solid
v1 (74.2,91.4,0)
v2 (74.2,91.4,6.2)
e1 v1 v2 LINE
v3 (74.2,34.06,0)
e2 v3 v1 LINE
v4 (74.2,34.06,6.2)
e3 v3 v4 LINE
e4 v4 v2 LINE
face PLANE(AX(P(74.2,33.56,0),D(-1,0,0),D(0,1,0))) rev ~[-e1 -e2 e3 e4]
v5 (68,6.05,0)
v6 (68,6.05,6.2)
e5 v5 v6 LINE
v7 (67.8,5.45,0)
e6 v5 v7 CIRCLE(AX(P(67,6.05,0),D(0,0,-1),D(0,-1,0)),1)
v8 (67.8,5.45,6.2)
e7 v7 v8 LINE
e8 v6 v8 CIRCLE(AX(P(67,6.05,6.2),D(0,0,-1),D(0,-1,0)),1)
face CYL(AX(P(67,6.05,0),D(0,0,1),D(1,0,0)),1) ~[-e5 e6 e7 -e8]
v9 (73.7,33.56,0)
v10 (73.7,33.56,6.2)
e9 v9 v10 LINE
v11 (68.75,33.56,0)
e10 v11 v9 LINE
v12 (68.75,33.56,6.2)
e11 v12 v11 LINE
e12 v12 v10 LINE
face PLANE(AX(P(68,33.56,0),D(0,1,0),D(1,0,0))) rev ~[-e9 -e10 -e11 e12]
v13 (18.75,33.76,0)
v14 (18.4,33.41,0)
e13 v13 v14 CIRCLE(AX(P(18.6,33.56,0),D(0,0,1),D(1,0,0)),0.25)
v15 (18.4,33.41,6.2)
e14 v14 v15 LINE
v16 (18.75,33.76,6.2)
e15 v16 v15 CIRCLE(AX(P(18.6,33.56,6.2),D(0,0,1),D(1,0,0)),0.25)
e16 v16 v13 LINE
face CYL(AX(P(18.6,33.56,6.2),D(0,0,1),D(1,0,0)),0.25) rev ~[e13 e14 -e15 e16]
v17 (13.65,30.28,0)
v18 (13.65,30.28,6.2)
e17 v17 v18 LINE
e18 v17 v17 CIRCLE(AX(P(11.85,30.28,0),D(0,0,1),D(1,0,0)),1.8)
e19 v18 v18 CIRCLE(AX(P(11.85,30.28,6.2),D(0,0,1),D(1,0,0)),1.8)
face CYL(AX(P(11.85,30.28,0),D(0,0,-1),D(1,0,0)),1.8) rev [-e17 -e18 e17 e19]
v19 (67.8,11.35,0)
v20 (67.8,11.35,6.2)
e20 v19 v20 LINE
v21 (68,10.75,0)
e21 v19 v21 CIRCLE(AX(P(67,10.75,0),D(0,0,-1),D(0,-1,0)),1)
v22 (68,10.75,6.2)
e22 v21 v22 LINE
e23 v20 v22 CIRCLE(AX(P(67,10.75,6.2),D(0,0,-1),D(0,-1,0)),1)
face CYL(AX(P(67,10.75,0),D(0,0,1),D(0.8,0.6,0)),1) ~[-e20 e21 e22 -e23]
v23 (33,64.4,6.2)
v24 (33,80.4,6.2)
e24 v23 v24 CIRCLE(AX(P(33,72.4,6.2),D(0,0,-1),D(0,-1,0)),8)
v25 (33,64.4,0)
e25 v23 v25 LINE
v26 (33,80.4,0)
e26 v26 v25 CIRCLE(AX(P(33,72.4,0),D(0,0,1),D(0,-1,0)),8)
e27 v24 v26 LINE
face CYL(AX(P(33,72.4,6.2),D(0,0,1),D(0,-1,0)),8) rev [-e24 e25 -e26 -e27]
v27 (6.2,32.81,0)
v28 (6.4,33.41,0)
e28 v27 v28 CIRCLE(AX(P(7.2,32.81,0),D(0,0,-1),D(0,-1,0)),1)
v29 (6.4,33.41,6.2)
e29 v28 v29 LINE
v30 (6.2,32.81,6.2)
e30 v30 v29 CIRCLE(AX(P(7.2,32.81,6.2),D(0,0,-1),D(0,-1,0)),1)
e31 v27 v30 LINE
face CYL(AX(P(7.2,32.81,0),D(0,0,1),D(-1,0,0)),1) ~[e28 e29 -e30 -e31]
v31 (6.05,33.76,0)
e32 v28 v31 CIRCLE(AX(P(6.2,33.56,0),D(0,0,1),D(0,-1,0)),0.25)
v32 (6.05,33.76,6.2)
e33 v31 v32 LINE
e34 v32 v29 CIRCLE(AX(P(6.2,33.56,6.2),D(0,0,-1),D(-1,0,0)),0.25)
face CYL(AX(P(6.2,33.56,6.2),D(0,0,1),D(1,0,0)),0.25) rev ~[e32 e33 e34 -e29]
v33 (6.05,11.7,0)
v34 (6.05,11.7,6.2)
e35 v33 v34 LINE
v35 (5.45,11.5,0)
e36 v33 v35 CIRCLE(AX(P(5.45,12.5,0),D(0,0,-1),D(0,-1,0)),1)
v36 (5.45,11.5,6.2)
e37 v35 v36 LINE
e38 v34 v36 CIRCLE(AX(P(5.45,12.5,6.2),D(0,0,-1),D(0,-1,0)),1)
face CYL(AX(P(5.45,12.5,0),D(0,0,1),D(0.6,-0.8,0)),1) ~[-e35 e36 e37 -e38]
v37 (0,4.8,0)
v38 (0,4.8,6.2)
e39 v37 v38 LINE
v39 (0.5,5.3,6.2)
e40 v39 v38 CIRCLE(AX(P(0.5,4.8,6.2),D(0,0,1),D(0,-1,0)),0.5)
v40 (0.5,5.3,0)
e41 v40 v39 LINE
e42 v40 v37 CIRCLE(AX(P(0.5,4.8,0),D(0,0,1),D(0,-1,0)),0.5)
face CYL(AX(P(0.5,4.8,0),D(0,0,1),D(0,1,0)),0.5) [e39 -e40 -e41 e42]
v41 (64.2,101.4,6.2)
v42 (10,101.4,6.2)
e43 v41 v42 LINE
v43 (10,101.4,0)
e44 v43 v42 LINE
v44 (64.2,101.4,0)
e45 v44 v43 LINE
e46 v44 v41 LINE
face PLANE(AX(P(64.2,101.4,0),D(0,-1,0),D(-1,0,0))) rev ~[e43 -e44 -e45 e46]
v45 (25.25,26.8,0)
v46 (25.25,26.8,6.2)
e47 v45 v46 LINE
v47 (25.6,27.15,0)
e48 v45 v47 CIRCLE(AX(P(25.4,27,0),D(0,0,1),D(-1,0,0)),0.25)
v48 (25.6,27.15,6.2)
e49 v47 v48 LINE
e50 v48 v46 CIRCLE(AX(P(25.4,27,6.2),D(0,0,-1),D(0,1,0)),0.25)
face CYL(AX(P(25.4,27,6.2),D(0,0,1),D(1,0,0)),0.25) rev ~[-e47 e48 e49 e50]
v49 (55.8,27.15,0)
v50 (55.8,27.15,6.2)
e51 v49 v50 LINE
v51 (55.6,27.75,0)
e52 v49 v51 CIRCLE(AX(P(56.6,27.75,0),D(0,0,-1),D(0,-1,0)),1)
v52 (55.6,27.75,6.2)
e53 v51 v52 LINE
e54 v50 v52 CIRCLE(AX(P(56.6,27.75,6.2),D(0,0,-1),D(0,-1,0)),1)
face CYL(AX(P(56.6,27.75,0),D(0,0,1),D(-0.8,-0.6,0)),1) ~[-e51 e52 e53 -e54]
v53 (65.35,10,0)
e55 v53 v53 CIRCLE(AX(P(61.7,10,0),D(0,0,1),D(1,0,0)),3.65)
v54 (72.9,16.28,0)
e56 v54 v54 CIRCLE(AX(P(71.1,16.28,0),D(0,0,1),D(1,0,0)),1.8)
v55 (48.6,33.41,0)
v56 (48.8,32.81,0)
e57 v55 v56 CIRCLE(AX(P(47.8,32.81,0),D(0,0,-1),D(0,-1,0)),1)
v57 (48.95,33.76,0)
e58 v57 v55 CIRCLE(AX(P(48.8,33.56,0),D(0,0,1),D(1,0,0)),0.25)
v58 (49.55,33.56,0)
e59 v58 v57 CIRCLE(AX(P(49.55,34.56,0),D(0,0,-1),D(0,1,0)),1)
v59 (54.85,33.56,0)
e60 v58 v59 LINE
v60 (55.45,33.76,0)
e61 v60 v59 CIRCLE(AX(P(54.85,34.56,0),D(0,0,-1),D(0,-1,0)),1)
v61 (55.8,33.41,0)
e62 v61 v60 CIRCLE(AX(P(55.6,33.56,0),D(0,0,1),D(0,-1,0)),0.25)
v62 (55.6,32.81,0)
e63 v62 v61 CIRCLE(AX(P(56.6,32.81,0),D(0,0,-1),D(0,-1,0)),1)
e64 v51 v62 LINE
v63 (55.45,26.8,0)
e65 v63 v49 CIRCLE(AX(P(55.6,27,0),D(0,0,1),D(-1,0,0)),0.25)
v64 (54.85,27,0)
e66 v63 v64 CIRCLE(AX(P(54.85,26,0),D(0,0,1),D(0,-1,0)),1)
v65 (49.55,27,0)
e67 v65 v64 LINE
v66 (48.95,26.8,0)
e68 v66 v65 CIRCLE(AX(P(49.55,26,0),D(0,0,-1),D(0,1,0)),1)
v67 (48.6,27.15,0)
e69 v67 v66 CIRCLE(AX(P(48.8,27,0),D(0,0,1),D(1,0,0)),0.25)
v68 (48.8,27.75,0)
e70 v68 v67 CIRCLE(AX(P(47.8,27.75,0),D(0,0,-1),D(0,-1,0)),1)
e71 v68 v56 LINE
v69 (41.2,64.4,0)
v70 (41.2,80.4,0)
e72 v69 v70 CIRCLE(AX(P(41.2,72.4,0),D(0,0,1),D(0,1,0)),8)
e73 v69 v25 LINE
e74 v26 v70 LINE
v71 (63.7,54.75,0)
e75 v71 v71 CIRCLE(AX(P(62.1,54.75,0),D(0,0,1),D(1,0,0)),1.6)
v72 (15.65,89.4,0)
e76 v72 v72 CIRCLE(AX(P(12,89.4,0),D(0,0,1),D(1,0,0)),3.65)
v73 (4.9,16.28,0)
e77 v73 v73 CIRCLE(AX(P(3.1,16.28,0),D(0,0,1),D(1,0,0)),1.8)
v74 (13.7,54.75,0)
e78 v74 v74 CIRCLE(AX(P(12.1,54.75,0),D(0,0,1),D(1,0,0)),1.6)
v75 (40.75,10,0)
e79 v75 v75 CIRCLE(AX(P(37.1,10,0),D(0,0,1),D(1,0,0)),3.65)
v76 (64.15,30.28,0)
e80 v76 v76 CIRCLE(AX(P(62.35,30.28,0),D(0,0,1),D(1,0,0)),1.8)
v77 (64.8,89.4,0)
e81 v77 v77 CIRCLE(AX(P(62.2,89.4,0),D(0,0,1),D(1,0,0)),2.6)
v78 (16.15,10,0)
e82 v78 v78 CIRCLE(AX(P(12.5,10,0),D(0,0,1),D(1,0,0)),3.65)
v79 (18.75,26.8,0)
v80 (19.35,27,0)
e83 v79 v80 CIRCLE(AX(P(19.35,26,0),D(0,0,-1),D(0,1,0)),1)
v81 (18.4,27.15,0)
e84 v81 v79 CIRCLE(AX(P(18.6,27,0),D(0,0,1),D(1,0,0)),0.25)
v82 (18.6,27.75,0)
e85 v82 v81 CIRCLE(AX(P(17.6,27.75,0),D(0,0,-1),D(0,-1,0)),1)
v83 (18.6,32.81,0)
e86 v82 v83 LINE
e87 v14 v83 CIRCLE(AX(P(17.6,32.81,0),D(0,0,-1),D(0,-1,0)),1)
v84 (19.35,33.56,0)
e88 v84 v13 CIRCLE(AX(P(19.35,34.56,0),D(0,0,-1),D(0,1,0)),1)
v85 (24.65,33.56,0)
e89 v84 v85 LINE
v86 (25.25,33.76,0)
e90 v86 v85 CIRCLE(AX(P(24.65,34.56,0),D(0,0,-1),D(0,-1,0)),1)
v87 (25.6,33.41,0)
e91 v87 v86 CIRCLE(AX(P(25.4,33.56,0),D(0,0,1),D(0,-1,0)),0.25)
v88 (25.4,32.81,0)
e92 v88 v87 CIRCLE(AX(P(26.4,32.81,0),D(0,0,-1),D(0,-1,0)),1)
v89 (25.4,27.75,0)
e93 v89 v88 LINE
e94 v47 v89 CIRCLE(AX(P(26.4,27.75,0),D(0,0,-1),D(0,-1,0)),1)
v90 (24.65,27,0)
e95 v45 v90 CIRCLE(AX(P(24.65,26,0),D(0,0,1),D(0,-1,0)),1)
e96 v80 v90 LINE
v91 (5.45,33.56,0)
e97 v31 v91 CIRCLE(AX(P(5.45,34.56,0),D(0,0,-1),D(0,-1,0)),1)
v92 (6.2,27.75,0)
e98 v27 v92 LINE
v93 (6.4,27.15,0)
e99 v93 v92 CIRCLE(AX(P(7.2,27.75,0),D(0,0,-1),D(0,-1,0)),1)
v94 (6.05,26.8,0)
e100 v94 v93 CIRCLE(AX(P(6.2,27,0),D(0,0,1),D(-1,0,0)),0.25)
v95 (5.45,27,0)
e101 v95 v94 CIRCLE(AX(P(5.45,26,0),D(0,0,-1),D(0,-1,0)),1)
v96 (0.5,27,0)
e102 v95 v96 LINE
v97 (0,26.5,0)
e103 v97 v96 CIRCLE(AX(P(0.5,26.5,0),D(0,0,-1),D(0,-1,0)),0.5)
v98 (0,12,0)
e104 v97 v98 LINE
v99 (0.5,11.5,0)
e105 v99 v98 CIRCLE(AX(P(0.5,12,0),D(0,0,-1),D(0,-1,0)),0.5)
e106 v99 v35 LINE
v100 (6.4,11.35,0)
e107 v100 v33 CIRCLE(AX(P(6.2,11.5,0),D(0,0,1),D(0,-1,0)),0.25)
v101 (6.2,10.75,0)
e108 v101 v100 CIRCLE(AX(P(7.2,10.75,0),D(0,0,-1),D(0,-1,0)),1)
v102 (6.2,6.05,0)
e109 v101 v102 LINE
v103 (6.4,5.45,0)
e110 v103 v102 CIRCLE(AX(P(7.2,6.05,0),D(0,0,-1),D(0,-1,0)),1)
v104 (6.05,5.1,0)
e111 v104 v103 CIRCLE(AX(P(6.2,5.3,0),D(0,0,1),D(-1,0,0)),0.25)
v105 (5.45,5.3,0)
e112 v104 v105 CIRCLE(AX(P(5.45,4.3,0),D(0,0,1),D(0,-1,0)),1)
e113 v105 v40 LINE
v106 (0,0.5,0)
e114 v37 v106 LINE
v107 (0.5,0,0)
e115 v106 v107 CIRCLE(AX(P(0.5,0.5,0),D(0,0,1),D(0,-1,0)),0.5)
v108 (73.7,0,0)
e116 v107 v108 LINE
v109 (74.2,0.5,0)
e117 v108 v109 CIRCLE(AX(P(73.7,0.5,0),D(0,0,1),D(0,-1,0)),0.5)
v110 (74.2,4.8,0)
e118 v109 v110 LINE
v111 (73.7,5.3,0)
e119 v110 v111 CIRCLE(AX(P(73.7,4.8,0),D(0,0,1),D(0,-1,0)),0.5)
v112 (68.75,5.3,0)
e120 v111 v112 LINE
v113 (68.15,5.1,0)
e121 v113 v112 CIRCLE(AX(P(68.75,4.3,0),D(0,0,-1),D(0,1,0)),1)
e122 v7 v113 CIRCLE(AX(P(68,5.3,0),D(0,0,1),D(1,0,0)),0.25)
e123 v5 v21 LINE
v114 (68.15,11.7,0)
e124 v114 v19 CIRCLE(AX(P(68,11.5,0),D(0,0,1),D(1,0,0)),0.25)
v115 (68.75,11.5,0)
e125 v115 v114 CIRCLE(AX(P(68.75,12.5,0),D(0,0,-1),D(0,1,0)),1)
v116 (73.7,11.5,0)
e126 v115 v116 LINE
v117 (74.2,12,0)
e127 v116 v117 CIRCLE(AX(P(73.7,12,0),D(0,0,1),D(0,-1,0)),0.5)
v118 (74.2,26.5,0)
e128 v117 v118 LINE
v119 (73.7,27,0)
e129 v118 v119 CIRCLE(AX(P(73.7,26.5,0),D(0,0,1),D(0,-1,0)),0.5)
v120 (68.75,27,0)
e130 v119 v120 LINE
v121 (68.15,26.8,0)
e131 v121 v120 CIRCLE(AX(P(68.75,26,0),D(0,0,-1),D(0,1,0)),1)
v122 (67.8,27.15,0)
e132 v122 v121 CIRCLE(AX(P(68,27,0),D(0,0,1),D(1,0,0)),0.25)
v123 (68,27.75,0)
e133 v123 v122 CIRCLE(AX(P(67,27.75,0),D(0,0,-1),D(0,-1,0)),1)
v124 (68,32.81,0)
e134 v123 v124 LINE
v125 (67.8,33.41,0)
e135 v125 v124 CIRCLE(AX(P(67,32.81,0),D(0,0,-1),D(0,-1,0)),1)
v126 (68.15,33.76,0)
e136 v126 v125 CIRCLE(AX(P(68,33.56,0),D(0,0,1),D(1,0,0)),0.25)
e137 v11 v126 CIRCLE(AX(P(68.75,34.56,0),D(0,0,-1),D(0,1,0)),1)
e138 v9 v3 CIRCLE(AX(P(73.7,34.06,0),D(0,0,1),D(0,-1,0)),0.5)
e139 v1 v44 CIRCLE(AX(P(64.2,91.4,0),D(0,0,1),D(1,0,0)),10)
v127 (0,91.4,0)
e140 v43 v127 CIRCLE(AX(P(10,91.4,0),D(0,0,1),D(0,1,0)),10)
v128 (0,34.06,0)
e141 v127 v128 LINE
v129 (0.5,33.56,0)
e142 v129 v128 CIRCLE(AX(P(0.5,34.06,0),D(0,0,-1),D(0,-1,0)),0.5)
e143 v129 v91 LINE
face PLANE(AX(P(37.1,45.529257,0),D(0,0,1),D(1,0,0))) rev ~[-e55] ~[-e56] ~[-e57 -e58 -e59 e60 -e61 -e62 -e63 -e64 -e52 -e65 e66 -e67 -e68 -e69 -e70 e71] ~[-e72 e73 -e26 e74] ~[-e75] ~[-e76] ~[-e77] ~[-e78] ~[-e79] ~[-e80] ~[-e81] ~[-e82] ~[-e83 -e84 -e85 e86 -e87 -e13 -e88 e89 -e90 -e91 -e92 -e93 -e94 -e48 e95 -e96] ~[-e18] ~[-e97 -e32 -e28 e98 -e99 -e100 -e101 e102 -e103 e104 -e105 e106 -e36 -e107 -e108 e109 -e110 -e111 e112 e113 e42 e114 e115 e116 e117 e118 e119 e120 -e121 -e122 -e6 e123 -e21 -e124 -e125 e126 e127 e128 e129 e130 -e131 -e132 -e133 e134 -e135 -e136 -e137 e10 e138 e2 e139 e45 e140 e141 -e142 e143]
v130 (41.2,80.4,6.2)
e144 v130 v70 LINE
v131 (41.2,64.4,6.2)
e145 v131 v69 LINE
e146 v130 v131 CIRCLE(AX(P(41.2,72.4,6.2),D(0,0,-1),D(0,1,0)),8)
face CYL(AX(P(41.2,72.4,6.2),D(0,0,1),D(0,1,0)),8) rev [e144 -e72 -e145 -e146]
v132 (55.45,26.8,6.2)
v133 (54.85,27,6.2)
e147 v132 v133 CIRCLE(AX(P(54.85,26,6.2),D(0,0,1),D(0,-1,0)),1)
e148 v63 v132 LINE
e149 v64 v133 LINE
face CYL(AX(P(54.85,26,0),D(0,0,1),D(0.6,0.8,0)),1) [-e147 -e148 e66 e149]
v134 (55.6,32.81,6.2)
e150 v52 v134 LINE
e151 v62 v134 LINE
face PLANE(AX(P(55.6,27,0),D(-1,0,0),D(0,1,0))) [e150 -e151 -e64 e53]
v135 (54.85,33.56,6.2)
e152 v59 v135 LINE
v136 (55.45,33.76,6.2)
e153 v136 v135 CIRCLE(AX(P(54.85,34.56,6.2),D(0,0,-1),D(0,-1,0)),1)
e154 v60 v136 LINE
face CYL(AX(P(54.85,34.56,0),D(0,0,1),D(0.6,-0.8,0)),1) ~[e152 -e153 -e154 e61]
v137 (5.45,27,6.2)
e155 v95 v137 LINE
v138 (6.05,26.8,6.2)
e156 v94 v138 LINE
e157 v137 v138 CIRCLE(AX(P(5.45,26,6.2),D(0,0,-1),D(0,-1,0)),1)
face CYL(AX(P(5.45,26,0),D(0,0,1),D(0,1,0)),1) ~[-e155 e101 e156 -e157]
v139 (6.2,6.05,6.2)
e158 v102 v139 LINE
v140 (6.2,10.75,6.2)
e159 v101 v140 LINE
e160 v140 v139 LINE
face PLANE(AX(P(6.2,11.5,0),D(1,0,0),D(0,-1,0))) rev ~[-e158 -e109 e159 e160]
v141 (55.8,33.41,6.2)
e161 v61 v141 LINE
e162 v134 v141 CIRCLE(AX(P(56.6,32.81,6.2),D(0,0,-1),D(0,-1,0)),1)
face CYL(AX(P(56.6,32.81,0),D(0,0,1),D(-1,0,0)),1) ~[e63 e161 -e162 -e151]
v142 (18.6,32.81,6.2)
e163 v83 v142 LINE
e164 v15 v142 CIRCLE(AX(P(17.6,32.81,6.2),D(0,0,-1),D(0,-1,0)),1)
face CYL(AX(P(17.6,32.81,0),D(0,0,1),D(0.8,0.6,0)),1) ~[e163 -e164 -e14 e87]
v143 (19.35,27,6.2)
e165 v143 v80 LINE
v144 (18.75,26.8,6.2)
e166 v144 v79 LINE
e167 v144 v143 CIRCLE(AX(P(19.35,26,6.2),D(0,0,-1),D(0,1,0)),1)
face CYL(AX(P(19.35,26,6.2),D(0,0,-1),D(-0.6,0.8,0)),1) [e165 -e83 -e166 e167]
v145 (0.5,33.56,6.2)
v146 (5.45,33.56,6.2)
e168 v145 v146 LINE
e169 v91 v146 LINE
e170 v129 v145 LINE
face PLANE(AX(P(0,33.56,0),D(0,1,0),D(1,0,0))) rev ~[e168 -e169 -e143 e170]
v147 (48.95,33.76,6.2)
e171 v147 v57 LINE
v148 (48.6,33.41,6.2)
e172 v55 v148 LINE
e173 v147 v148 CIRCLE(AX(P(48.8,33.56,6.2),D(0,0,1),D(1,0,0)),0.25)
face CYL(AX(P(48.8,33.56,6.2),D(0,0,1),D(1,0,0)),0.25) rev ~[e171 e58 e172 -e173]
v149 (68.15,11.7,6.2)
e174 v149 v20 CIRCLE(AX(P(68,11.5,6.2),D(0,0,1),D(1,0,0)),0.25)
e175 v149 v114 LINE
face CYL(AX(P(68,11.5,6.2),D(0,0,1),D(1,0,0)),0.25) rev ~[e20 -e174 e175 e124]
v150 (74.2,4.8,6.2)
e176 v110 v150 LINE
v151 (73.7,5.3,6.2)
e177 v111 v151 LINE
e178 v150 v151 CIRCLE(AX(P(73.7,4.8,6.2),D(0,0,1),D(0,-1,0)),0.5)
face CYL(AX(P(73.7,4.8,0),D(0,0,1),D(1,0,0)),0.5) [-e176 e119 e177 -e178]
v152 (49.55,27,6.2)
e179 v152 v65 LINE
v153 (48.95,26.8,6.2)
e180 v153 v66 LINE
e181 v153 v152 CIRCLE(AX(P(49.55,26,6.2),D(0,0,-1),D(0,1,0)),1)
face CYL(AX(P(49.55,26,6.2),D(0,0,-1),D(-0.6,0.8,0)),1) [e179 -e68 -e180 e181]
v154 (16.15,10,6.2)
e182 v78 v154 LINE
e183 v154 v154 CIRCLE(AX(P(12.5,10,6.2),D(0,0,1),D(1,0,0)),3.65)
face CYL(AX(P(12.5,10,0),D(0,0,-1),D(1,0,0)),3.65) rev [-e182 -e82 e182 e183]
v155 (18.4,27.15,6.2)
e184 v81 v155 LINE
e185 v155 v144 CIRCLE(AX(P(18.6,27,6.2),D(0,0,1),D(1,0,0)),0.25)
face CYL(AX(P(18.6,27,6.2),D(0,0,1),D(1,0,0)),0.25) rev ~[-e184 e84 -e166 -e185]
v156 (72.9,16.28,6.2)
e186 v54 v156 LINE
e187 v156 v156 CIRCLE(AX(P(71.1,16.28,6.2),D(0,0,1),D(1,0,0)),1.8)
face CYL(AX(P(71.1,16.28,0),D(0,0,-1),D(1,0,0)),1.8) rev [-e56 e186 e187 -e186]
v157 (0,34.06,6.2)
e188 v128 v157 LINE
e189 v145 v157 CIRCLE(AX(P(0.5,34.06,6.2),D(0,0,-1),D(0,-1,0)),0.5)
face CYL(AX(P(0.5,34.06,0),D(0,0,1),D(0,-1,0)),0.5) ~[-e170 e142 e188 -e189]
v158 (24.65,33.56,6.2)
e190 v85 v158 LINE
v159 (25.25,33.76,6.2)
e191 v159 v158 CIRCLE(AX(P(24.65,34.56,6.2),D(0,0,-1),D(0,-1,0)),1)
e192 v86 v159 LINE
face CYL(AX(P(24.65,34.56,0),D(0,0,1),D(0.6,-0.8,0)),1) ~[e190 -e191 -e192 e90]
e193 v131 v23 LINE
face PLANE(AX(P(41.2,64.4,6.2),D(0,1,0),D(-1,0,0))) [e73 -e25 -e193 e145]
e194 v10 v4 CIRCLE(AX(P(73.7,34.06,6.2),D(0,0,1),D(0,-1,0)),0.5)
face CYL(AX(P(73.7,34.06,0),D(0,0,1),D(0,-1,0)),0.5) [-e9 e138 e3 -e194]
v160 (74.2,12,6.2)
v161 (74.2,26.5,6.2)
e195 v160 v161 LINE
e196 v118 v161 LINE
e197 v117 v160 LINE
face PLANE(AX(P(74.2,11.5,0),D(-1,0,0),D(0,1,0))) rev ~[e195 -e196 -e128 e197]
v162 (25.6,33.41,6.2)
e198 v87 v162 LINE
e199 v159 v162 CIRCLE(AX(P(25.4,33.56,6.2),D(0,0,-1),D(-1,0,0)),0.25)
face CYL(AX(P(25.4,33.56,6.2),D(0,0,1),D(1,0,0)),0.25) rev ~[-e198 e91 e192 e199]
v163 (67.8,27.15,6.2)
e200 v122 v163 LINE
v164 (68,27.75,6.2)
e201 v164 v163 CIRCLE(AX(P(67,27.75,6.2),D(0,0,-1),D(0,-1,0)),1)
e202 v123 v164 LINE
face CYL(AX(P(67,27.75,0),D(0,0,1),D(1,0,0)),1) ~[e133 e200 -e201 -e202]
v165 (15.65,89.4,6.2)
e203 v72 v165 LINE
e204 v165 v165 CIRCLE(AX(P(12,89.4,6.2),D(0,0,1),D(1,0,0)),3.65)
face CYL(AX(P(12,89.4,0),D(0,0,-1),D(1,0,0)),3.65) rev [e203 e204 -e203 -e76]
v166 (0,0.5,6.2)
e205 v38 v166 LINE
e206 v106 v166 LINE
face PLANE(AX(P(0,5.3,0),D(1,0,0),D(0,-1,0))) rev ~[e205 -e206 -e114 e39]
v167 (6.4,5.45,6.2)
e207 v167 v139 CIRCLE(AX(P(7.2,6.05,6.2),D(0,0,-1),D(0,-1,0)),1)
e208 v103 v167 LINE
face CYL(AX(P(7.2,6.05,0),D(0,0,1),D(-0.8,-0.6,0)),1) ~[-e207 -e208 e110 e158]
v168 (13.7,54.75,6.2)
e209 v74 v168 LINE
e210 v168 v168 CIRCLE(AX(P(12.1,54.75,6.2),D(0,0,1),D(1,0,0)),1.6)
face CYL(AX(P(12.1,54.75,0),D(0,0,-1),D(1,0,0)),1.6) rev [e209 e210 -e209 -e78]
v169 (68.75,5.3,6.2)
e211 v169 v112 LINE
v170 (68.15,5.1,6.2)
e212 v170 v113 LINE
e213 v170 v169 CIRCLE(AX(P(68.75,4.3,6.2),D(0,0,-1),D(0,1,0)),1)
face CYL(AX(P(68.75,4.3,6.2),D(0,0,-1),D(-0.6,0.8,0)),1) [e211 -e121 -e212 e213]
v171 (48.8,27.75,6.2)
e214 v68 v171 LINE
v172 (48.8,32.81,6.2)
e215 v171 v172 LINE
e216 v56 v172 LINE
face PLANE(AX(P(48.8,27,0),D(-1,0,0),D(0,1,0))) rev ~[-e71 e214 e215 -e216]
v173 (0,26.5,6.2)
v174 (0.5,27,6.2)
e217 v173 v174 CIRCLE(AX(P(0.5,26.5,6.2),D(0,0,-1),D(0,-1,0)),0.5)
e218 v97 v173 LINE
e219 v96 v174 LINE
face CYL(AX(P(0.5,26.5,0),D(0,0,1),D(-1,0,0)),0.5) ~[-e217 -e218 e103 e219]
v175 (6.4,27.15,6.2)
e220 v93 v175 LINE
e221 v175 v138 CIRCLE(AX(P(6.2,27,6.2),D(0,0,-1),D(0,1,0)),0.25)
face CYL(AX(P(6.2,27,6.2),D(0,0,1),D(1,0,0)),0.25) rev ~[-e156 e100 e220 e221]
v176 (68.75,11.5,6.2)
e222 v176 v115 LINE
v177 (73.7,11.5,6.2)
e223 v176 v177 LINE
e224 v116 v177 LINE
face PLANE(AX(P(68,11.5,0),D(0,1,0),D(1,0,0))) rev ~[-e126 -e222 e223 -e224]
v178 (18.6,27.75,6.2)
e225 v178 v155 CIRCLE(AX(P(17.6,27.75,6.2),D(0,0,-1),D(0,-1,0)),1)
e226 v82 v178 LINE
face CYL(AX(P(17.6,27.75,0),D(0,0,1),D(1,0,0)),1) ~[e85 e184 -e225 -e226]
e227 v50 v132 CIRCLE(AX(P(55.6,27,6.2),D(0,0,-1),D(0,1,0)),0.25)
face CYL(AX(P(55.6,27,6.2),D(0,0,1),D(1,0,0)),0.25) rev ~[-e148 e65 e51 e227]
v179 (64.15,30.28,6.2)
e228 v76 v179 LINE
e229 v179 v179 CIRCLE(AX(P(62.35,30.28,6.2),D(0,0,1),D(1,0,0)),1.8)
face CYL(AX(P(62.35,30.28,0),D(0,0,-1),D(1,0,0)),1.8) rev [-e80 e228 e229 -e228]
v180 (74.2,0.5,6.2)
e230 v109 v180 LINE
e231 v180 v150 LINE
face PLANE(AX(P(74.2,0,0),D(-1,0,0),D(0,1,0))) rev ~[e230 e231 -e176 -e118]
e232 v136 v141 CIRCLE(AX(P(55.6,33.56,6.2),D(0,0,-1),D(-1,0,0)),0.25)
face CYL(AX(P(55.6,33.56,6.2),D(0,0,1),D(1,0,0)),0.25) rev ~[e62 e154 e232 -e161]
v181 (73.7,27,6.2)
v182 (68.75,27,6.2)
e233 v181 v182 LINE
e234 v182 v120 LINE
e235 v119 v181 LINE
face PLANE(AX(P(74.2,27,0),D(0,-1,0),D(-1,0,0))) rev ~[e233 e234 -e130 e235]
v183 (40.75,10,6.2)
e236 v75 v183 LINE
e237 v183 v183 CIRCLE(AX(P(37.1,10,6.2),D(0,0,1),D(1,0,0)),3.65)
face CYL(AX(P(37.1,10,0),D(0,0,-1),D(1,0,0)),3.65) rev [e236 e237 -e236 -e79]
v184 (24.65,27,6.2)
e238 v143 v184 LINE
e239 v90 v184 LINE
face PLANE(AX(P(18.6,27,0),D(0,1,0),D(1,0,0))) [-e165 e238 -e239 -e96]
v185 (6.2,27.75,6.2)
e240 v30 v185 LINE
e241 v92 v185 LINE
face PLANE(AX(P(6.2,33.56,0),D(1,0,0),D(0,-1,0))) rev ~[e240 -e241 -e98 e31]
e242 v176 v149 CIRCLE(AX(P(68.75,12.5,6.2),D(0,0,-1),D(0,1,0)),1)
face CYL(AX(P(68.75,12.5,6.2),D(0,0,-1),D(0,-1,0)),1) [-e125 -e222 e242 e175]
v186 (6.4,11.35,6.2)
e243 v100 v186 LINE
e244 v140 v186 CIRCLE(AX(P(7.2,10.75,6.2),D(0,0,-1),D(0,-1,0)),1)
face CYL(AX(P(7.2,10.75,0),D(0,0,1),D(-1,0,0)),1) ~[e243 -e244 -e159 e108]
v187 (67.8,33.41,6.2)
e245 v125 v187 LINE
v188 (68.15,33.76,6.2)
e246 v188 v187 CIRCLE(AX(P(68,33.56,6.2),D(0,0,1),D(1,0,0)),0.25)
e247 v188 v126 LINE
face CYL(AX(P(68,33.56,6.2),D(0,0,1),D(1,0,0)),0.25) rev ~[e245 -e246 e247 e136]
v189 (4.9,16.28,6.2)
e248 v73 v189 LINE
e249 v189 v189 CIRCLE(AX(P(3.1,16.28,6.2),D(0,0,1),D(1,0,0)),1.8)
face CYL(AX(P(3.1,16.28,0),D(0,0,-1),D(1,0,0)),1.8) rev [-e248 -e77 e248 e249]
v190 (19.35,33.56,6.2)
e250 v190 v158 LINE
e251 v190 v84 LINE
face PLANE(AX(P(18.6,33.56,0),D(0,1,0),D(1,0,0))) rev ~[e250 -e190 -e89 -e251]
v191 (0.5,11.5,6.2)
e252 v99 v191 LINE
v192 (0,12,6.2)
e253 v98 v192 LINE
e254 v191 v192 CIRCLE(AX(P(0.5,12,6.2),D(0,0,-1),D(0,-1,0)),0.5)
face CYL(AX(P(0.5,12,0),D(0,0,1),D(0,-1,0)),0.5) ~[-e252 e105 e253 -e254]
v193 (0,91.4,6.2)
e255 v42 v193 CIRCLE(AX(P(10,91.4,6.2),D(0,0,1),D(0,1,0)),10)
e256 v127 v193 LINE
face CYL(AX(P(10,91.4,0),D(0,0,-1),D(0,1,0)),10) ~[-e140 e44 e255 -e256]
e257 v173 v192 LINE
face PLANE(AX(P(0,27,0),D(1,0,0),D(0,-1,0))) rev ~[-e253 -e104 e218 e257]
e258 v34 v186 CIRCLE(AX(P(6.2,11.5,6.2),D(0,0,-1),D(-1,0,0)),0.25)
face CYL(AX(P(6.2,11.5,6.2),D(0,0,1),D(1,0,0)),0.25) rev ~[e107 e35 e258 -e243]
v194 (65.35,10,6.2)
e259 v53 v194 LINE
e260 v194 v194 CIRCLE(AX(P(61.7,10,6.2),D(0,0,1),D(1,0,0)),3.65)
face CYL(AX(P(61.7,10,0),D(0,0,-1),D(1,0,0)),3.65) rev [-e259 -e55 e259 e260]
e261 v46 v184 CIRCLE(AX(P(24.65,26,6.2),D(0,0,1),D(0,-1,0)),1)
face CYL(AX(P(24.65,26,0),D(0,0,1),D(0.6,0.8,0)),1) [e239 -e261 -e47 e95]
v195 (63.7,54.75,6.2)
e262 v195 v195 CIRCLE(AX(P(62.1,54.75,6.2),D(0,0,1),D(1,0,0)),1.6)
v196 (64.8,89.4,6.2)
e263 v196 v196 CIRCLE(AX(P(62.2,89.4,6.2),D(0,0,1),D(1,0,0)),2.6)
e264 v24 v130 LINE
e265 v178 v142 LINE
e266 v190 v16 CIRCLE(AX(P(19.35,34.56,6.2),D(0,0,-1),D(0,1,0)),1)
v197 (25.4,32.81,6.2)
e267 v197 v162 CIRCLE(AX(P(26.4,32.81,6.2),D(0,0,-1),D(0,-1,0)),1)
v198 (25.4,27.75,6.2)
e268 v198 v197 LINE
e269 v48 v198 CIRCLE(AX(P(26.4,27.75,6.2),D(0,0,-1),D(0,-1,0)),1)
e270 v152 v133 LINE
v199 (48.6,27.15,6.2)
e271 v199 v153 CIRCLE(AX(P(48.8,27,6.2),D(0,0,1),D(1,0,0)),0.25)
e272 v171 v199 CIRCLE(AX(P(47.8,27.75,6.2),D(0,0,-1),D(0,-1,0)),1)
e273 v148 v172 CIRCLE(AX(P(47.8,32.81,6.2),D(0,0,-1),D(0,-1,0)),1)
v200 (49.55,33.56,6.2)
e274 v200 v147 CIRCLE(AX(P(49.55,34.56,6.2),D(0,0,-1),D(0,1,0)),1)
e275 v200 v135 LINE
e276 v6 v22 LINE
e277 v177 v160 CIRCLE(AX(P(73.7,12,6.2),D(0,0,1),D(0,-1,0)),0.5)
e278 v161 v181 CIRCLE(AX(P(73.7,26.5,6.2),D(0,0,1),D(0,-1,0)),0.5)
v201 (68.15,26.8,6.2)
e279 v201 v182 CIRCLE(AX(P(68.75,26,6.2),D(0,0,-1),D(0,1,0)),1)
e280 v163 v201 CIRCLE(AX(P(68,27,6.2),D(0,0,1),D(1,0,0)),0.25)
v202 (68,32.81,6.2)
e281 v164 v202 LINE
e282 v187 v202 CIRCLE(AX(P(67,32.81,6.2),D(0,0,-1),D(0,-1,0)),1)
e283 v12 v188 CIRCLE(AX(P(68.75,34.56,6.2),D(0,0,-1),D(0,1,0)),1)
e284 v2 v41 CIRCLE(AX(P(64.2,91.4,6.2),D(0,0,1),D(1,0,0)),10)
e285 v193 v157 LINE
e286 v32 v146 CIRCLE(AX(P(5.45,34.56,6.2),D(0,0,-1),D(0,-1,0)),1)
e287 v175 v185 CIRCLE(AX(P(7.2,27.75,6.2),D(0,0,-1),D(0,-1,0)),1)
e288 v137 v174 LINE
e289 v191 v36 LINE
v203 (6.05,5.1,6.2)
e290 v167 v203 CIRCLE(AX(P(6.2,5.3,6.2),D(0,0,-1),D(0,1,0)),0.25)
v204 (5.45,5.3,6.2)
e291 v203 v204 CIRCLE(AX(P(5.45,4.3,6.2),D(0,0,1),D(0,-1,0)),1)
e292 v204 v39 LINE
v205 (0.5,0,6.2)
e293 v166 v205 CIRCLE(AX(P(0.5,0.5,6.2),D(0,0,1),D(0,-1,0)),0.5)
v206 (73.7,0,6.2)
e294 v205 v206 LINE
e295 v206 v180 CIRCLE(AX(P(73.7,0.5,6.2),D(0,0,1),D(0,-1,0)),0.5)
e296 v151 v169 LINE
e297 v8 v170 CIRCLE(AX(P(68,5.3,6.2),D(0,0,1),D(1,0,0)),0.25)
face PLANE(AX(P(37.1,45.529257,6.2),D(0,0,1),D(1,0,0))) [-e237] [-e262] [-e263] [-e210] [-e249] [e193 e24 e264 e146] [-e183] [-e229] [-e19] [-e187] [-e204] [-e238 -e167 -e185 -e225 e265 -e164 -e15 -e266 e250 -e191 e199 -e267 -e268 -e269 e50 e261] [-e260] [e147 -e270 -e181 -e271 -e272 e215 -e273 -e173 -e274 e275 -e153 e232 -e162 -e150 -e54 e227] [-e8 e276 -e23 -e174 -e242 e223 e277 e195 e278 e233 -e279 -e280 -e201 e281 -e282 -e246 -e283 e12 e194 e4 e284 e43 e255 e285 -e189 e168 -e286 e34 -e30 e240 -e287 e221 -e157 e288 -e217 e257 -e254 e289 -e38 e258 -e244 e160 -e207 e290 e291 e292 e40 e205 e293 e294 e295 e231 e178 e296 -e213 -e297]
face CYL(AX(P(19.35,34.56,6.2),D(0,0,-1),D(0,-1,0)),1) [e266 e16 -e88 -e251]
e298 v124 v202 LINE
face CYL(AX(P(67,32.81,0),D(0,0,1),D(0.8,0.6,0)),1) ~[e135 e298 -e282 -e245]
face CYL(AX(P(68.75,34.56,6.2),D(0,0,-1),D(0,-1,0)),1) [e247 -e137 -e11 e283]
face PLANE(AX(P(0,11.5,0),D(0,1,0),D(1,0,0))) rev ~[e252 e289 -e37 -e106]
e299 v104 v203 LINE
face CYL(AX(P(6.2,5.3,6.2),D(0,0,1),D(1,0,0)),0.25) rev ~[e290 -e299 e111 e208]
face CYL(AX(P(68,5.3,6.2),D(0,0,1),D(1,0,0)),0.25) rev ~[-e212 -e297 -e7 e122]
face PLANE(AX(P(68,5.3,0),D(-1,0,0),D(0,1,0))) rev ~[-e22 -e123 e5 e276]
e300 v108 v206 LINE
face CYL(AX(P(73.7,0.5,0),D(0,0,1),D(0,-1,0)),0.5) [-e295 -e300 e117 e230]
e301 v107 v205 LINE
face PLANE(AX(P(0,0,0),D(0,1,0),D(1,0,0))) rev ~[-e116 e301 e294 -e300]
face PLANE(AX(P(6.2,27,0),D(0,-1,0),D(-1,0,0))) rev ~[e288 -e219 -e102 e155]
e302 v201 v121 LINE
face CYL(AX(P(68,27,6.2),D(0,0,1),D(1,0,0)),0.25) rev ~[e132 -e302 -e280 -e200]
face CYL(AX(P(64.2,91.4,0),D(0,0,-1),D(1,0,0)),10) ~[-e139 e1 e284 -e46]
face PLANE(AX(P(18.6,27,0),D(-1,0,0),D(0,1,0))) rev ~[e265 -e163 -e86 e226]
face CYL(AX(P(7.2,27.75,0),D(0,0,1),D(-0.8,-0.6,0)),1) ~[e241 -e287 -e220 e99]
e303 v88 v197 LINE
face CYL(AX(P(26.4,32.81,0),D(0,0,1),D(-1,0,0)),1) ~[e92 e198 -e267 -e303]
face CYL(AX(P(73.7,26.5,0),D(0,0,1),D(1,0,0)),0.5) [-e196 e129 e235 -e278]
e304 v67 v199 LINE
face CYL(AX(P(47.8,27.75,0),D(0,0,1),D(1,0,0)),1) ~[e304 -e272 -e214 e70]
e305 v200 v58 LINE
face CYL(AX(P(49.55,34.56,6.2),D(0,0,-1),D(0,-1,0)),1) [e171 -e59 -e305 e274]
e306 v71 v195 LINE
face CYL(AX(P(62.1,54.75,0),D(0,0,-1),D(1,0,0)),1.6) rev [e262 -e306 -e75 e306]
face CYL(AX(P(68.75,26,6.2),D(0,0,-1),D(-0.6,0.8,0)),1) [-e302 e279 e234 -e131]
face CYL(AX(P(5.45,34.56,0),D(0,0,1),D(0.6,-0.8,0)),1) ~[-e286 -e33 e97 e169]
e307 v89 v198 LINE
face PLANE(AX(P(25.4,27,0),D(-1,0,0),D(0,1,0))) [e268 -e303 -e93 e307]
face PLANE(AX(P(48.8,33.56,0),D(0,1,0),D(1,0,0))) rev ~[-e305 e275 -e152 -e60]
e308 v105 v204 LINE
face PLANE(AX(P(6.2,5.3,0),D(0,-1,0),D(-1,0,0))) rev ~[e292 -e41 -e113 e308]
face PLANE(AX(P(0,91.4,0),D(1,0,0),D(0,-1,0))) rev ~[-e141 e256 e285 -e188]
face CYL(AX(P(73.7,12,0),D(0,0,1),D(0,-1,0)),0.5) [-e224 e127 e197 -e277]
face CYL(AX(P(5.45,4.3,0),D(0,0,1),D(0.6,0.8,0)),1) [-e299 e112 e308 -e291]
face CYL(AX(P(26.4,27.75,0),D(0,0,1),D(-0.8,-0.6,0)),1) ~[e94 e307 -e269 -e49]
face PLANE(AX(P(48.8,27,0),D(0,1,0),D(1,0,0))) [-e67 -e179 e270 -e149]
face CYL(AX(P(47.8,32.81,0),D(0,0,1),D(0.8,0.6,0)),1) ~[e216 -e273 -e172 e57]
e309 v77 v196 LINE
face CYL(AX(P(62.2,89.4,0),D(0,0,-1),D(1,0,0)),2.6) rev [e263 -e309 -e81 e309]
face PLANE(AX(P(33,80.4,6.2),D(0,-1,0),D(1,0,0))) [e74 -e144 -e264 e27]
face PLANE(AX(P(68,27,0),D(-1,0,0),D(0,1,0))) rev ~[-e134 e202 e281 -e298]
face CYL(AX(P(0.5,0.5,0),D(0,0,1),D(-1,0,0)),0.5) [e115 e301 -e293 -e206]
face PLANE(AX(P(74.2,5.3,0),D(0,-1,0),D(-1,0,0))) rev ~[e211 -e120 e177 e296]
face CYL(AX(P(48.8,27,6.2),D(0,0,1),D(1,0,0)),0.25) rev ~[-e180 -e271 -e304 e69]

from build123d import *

# Parameters (mm, degrees)
SKETCH1_R           = 3.65
SKETCH1_R_2         = 1.8
SKETCH1_W           = 6.8
SKETCH1_H           = 6.56
SKETCH1_R_3         = 1.6
SKETCH1_R_4         = 2.6
BOSS_EXTRUDE1_DEPTH = 6.2
CUT_EXTRUDE1_DEPTH  = 7.2
SKETCH3_R           = 0.25
CUT_EXTRUDE2_DEPTH  = 7.2
FILLET1_R           = 1
FILLET2_R           = 0.5


with BuildPart() as part:
    # Sketch1 → Boss-Extrude1 (new body)
    with BuildSketch(Plane.XY):
        with BuildLine():
            Line((0, 5.3), (0, 0))
            Line((0, 0), (74.2, 0))
            Line((74.2, 0), (74.2, 5.3))
            Line((74.2, 5.3), (68, 5.3))
            Line((68, 5.3), (68, 11.5))
            Line((68, 11.5), (74.2, 11.5))
            Line((74.2, 11.5), (74.2, 27))
            Line((74.2, 27), (68, 27))
            Line((68, 27), (68, 33.56))
            Line((68, 33.56), (74.2, 33.56))
            Line((74.2, 33.56), (74.2, 91.4))
            ThreePointArc((74.2, 91.4), (71.271067812, 98.471067812), (64.2, 101.4))
            Line((64.2, 101.4), (10, 101.4))
            ThreePointArc((10, 101.4), (2.928932188, 98.471067812), (0, 91.4))
            Line((0, 91.4), (0, 33.56))
            Line((0, 33.56), (6.2, 33.56))
            Line((6.2, 33.56), (6.2, 27))
            Line((6.2, 27), (0, 27))
            Line((0, 27), (0, 11.5))
            Line((0, 11.5), (6.2, 11.5))
            Line((6.2, 11.5), (6.2, 5.3))
            Line((6.2, 5.3), (0, 5.3))
        make_face()
        with Locations((12.5, 10)):
            Circle(SKETCH1_R, mode=Mode.SUBTRACT)
        with Locations((3.1, 16.28)):
            Circle(SKETCH1_R_2, mode=Mode.SUBTRACT)
        with Locations((11.85, 30.28)):
            Circle(SKETCH1_R_2, mode=Mode.SUBTRACT)
        with Locations((22, 30.28)):
            Rectangle(SKETCH1_W, SKETCH1_H, mode=Mode.SUBTRACT)
        with Locations((37.1, 10)):
            Circle(SKETCH1_R, mode=Mode.SUBTRACT)
        with Locations((61.7, 10)):
            Circle(SKETCH1_R, mode=Mode.SUBTRACT)
        with Locations((71.1, 16.28)):
            Circle(SKETCH1_R_2, mode=Mode.SUBTRACT)
        with Locations((52.2, 30.28)):
            Rectangle(SKETCH1_W, SKETCH1_H, mode=Mode.SUBTRACT)
        with Locations((62.35, 30.28)):
            Circle(SKETCH1_R_2, mode=Mode.SUBTRACT)
        with Locations((12.1, 54.75)):
            Circle(SKETCH1_R_3, mode=Mode.SUBTRACT)
        with Locations((12, 89.4)):
            Circle(SKETCH1_R, mode=Mode.SUBTRACT)
        with Locations((62.1, 54.75)):
            Circle(SKETCH1_R_3, mode=Mode.SUBTRACT)
        with Locations((62.2, 89.4)):
            Circle(SKETCH1_R_4, mode=Mode.SUBTRACT)
    extrude(amount=BOSS_EXTRUDE1_DEPTH)

    # Sketch2 → Cut-Extrude1 (cut, through all)
    with BuildSketch(Plane.XY.offset(6.2)):
        with BuildLine():
            Line((33, 80.4), (41.2, 80.4))
            ThreePointArc((41.2, 80.4), (49.2, 72.4), (41.2, 64.4))
            Line((41.2, 64.4), (33, 64.4))
            ThreePointArc((33, 64.4), (25, 72.4), (33, 80.4))
        make_face()
    extrude(amount=-CUT_EXTRUDE1_DEPTH, mode=Mode.SUBTRACT)

    # Sketch3 → Cut-Extrude2 (cut, through all)
    with BuildSketch(Plane.XY.offset(6.2)):
        with Locations((6.2, 33.56)):
            Circle(SKETCH3_R)
        with Locations((6.2, 27)):
            Circle(SKETCH3_R)
        with Locations((6.2, 11.5)):
            Circle(SKETCH3_R)
        with Locations((6.2, 5.3)):
            Circle(SKETCH3_R)
        with Locations((25.4, 27)):
            Circle(SKETCH3_R)
        with Locations((18.6, 27)):
            Circle(SKETCH3_R)
        with Locations((18.6, 33.56)):
            Circle(SKETCH3_R)
        with Locations((25.4, 33.56)):
            Circle(SKETCH3_R)
        with Locations((48.8, 33.56)):
            Circle(SKETCH3_R)
        with Locations((48.8, 27)):
            Circle(SKETCH3_R)
        with Locations((55.6, 33.56)):
            Circle(SKETCH3_R)
        with Locations((55.6, 27)):
            Circle(SKETCH3_R)
        with Locations((68, 33.56)):
            Circle(SKETCH3_R)
        with Locations((68, 27)):
            Circle(SKETCH3_R)
        with Locations((68, 11.5)):
            Circle(SKETCH3_R)
        with Locations((68, 5.3)):
            Circle(SKETCH3_R)
    extrude(amount=-CUT_EXTRUDE2_DEPTH, mode=Mode.SUBTRACT)

    # Fillet1
    fillet1_edges = [part.edges().sort_by_distance(p)[0] for p in [
        (5.95, 33.56, 3.1),
        (6.2, 33.31, 3.1),
        (6.2, 27.25, 3.1),
        (5.95, 27, 3.1),
        (5.95, 11.5, 3.1),
        (6.2, 11.25, 3.1),
        (6.2, 5.55, 3.1),
        (5.95, 5.3, 3.1),
        (25.4, 27.25, 3.1),
        (25.15, 27, 3.1),
        (18.85, 27, 3.1),
        (18.6, 27.25, 3.1),
        (18.85, 33.56, 3.1),
        (18.6, 33.31, 3.1),
        (25.15, 33.56, 3.1),
        (25.4, 33.31, 3.1),
        (49.05, 33.56, 3.1),
        (48.8, 33.31, 3.1),
        (49.05, 27, 3.1),
        (48.8, 27.25, 3.1),
        (55.35, 33.56, 3.1),
        (55.6, 33.31, 3.1),
        (55.6, 27.25, 3.1),
        (55.35, 27, 3.1),
        (68, 33.31, 3.1),
        (68.25, 33.56, 3.1),
        (68.25, 27, 3.1),
        (68, 27.25, 3.1),
        (68, 11.25, 3.1),
        (68.25, 11.5, 3.1),
        (68.25, 5.3, 3.1),
        (68, 5.55, 3.1),
    ]]
    fillet(fillet1_edges, radius=FILLET1_R)

    # Fillet2
    fillet2_edges = [part.edges().sort_by_distance(p)[0] for p in [
        (74.2, 33.56, 3.1),
        (74.2, 27, 3.1),
        (74.2, 11.5, 3.1),
        (74.2, 5.3, 3.1),
        (74.2, 0, 3.1),
        (0, 0, 3.1),
        (0, 5.3, 3.1),
        (0, 11.5, 3.1),
        (0, 27, 3.1),
        (0, 33.56, 3.1),
    ]]
    fillet(fillet2_edges, radius=FILLET2_R)


solid = part.part
